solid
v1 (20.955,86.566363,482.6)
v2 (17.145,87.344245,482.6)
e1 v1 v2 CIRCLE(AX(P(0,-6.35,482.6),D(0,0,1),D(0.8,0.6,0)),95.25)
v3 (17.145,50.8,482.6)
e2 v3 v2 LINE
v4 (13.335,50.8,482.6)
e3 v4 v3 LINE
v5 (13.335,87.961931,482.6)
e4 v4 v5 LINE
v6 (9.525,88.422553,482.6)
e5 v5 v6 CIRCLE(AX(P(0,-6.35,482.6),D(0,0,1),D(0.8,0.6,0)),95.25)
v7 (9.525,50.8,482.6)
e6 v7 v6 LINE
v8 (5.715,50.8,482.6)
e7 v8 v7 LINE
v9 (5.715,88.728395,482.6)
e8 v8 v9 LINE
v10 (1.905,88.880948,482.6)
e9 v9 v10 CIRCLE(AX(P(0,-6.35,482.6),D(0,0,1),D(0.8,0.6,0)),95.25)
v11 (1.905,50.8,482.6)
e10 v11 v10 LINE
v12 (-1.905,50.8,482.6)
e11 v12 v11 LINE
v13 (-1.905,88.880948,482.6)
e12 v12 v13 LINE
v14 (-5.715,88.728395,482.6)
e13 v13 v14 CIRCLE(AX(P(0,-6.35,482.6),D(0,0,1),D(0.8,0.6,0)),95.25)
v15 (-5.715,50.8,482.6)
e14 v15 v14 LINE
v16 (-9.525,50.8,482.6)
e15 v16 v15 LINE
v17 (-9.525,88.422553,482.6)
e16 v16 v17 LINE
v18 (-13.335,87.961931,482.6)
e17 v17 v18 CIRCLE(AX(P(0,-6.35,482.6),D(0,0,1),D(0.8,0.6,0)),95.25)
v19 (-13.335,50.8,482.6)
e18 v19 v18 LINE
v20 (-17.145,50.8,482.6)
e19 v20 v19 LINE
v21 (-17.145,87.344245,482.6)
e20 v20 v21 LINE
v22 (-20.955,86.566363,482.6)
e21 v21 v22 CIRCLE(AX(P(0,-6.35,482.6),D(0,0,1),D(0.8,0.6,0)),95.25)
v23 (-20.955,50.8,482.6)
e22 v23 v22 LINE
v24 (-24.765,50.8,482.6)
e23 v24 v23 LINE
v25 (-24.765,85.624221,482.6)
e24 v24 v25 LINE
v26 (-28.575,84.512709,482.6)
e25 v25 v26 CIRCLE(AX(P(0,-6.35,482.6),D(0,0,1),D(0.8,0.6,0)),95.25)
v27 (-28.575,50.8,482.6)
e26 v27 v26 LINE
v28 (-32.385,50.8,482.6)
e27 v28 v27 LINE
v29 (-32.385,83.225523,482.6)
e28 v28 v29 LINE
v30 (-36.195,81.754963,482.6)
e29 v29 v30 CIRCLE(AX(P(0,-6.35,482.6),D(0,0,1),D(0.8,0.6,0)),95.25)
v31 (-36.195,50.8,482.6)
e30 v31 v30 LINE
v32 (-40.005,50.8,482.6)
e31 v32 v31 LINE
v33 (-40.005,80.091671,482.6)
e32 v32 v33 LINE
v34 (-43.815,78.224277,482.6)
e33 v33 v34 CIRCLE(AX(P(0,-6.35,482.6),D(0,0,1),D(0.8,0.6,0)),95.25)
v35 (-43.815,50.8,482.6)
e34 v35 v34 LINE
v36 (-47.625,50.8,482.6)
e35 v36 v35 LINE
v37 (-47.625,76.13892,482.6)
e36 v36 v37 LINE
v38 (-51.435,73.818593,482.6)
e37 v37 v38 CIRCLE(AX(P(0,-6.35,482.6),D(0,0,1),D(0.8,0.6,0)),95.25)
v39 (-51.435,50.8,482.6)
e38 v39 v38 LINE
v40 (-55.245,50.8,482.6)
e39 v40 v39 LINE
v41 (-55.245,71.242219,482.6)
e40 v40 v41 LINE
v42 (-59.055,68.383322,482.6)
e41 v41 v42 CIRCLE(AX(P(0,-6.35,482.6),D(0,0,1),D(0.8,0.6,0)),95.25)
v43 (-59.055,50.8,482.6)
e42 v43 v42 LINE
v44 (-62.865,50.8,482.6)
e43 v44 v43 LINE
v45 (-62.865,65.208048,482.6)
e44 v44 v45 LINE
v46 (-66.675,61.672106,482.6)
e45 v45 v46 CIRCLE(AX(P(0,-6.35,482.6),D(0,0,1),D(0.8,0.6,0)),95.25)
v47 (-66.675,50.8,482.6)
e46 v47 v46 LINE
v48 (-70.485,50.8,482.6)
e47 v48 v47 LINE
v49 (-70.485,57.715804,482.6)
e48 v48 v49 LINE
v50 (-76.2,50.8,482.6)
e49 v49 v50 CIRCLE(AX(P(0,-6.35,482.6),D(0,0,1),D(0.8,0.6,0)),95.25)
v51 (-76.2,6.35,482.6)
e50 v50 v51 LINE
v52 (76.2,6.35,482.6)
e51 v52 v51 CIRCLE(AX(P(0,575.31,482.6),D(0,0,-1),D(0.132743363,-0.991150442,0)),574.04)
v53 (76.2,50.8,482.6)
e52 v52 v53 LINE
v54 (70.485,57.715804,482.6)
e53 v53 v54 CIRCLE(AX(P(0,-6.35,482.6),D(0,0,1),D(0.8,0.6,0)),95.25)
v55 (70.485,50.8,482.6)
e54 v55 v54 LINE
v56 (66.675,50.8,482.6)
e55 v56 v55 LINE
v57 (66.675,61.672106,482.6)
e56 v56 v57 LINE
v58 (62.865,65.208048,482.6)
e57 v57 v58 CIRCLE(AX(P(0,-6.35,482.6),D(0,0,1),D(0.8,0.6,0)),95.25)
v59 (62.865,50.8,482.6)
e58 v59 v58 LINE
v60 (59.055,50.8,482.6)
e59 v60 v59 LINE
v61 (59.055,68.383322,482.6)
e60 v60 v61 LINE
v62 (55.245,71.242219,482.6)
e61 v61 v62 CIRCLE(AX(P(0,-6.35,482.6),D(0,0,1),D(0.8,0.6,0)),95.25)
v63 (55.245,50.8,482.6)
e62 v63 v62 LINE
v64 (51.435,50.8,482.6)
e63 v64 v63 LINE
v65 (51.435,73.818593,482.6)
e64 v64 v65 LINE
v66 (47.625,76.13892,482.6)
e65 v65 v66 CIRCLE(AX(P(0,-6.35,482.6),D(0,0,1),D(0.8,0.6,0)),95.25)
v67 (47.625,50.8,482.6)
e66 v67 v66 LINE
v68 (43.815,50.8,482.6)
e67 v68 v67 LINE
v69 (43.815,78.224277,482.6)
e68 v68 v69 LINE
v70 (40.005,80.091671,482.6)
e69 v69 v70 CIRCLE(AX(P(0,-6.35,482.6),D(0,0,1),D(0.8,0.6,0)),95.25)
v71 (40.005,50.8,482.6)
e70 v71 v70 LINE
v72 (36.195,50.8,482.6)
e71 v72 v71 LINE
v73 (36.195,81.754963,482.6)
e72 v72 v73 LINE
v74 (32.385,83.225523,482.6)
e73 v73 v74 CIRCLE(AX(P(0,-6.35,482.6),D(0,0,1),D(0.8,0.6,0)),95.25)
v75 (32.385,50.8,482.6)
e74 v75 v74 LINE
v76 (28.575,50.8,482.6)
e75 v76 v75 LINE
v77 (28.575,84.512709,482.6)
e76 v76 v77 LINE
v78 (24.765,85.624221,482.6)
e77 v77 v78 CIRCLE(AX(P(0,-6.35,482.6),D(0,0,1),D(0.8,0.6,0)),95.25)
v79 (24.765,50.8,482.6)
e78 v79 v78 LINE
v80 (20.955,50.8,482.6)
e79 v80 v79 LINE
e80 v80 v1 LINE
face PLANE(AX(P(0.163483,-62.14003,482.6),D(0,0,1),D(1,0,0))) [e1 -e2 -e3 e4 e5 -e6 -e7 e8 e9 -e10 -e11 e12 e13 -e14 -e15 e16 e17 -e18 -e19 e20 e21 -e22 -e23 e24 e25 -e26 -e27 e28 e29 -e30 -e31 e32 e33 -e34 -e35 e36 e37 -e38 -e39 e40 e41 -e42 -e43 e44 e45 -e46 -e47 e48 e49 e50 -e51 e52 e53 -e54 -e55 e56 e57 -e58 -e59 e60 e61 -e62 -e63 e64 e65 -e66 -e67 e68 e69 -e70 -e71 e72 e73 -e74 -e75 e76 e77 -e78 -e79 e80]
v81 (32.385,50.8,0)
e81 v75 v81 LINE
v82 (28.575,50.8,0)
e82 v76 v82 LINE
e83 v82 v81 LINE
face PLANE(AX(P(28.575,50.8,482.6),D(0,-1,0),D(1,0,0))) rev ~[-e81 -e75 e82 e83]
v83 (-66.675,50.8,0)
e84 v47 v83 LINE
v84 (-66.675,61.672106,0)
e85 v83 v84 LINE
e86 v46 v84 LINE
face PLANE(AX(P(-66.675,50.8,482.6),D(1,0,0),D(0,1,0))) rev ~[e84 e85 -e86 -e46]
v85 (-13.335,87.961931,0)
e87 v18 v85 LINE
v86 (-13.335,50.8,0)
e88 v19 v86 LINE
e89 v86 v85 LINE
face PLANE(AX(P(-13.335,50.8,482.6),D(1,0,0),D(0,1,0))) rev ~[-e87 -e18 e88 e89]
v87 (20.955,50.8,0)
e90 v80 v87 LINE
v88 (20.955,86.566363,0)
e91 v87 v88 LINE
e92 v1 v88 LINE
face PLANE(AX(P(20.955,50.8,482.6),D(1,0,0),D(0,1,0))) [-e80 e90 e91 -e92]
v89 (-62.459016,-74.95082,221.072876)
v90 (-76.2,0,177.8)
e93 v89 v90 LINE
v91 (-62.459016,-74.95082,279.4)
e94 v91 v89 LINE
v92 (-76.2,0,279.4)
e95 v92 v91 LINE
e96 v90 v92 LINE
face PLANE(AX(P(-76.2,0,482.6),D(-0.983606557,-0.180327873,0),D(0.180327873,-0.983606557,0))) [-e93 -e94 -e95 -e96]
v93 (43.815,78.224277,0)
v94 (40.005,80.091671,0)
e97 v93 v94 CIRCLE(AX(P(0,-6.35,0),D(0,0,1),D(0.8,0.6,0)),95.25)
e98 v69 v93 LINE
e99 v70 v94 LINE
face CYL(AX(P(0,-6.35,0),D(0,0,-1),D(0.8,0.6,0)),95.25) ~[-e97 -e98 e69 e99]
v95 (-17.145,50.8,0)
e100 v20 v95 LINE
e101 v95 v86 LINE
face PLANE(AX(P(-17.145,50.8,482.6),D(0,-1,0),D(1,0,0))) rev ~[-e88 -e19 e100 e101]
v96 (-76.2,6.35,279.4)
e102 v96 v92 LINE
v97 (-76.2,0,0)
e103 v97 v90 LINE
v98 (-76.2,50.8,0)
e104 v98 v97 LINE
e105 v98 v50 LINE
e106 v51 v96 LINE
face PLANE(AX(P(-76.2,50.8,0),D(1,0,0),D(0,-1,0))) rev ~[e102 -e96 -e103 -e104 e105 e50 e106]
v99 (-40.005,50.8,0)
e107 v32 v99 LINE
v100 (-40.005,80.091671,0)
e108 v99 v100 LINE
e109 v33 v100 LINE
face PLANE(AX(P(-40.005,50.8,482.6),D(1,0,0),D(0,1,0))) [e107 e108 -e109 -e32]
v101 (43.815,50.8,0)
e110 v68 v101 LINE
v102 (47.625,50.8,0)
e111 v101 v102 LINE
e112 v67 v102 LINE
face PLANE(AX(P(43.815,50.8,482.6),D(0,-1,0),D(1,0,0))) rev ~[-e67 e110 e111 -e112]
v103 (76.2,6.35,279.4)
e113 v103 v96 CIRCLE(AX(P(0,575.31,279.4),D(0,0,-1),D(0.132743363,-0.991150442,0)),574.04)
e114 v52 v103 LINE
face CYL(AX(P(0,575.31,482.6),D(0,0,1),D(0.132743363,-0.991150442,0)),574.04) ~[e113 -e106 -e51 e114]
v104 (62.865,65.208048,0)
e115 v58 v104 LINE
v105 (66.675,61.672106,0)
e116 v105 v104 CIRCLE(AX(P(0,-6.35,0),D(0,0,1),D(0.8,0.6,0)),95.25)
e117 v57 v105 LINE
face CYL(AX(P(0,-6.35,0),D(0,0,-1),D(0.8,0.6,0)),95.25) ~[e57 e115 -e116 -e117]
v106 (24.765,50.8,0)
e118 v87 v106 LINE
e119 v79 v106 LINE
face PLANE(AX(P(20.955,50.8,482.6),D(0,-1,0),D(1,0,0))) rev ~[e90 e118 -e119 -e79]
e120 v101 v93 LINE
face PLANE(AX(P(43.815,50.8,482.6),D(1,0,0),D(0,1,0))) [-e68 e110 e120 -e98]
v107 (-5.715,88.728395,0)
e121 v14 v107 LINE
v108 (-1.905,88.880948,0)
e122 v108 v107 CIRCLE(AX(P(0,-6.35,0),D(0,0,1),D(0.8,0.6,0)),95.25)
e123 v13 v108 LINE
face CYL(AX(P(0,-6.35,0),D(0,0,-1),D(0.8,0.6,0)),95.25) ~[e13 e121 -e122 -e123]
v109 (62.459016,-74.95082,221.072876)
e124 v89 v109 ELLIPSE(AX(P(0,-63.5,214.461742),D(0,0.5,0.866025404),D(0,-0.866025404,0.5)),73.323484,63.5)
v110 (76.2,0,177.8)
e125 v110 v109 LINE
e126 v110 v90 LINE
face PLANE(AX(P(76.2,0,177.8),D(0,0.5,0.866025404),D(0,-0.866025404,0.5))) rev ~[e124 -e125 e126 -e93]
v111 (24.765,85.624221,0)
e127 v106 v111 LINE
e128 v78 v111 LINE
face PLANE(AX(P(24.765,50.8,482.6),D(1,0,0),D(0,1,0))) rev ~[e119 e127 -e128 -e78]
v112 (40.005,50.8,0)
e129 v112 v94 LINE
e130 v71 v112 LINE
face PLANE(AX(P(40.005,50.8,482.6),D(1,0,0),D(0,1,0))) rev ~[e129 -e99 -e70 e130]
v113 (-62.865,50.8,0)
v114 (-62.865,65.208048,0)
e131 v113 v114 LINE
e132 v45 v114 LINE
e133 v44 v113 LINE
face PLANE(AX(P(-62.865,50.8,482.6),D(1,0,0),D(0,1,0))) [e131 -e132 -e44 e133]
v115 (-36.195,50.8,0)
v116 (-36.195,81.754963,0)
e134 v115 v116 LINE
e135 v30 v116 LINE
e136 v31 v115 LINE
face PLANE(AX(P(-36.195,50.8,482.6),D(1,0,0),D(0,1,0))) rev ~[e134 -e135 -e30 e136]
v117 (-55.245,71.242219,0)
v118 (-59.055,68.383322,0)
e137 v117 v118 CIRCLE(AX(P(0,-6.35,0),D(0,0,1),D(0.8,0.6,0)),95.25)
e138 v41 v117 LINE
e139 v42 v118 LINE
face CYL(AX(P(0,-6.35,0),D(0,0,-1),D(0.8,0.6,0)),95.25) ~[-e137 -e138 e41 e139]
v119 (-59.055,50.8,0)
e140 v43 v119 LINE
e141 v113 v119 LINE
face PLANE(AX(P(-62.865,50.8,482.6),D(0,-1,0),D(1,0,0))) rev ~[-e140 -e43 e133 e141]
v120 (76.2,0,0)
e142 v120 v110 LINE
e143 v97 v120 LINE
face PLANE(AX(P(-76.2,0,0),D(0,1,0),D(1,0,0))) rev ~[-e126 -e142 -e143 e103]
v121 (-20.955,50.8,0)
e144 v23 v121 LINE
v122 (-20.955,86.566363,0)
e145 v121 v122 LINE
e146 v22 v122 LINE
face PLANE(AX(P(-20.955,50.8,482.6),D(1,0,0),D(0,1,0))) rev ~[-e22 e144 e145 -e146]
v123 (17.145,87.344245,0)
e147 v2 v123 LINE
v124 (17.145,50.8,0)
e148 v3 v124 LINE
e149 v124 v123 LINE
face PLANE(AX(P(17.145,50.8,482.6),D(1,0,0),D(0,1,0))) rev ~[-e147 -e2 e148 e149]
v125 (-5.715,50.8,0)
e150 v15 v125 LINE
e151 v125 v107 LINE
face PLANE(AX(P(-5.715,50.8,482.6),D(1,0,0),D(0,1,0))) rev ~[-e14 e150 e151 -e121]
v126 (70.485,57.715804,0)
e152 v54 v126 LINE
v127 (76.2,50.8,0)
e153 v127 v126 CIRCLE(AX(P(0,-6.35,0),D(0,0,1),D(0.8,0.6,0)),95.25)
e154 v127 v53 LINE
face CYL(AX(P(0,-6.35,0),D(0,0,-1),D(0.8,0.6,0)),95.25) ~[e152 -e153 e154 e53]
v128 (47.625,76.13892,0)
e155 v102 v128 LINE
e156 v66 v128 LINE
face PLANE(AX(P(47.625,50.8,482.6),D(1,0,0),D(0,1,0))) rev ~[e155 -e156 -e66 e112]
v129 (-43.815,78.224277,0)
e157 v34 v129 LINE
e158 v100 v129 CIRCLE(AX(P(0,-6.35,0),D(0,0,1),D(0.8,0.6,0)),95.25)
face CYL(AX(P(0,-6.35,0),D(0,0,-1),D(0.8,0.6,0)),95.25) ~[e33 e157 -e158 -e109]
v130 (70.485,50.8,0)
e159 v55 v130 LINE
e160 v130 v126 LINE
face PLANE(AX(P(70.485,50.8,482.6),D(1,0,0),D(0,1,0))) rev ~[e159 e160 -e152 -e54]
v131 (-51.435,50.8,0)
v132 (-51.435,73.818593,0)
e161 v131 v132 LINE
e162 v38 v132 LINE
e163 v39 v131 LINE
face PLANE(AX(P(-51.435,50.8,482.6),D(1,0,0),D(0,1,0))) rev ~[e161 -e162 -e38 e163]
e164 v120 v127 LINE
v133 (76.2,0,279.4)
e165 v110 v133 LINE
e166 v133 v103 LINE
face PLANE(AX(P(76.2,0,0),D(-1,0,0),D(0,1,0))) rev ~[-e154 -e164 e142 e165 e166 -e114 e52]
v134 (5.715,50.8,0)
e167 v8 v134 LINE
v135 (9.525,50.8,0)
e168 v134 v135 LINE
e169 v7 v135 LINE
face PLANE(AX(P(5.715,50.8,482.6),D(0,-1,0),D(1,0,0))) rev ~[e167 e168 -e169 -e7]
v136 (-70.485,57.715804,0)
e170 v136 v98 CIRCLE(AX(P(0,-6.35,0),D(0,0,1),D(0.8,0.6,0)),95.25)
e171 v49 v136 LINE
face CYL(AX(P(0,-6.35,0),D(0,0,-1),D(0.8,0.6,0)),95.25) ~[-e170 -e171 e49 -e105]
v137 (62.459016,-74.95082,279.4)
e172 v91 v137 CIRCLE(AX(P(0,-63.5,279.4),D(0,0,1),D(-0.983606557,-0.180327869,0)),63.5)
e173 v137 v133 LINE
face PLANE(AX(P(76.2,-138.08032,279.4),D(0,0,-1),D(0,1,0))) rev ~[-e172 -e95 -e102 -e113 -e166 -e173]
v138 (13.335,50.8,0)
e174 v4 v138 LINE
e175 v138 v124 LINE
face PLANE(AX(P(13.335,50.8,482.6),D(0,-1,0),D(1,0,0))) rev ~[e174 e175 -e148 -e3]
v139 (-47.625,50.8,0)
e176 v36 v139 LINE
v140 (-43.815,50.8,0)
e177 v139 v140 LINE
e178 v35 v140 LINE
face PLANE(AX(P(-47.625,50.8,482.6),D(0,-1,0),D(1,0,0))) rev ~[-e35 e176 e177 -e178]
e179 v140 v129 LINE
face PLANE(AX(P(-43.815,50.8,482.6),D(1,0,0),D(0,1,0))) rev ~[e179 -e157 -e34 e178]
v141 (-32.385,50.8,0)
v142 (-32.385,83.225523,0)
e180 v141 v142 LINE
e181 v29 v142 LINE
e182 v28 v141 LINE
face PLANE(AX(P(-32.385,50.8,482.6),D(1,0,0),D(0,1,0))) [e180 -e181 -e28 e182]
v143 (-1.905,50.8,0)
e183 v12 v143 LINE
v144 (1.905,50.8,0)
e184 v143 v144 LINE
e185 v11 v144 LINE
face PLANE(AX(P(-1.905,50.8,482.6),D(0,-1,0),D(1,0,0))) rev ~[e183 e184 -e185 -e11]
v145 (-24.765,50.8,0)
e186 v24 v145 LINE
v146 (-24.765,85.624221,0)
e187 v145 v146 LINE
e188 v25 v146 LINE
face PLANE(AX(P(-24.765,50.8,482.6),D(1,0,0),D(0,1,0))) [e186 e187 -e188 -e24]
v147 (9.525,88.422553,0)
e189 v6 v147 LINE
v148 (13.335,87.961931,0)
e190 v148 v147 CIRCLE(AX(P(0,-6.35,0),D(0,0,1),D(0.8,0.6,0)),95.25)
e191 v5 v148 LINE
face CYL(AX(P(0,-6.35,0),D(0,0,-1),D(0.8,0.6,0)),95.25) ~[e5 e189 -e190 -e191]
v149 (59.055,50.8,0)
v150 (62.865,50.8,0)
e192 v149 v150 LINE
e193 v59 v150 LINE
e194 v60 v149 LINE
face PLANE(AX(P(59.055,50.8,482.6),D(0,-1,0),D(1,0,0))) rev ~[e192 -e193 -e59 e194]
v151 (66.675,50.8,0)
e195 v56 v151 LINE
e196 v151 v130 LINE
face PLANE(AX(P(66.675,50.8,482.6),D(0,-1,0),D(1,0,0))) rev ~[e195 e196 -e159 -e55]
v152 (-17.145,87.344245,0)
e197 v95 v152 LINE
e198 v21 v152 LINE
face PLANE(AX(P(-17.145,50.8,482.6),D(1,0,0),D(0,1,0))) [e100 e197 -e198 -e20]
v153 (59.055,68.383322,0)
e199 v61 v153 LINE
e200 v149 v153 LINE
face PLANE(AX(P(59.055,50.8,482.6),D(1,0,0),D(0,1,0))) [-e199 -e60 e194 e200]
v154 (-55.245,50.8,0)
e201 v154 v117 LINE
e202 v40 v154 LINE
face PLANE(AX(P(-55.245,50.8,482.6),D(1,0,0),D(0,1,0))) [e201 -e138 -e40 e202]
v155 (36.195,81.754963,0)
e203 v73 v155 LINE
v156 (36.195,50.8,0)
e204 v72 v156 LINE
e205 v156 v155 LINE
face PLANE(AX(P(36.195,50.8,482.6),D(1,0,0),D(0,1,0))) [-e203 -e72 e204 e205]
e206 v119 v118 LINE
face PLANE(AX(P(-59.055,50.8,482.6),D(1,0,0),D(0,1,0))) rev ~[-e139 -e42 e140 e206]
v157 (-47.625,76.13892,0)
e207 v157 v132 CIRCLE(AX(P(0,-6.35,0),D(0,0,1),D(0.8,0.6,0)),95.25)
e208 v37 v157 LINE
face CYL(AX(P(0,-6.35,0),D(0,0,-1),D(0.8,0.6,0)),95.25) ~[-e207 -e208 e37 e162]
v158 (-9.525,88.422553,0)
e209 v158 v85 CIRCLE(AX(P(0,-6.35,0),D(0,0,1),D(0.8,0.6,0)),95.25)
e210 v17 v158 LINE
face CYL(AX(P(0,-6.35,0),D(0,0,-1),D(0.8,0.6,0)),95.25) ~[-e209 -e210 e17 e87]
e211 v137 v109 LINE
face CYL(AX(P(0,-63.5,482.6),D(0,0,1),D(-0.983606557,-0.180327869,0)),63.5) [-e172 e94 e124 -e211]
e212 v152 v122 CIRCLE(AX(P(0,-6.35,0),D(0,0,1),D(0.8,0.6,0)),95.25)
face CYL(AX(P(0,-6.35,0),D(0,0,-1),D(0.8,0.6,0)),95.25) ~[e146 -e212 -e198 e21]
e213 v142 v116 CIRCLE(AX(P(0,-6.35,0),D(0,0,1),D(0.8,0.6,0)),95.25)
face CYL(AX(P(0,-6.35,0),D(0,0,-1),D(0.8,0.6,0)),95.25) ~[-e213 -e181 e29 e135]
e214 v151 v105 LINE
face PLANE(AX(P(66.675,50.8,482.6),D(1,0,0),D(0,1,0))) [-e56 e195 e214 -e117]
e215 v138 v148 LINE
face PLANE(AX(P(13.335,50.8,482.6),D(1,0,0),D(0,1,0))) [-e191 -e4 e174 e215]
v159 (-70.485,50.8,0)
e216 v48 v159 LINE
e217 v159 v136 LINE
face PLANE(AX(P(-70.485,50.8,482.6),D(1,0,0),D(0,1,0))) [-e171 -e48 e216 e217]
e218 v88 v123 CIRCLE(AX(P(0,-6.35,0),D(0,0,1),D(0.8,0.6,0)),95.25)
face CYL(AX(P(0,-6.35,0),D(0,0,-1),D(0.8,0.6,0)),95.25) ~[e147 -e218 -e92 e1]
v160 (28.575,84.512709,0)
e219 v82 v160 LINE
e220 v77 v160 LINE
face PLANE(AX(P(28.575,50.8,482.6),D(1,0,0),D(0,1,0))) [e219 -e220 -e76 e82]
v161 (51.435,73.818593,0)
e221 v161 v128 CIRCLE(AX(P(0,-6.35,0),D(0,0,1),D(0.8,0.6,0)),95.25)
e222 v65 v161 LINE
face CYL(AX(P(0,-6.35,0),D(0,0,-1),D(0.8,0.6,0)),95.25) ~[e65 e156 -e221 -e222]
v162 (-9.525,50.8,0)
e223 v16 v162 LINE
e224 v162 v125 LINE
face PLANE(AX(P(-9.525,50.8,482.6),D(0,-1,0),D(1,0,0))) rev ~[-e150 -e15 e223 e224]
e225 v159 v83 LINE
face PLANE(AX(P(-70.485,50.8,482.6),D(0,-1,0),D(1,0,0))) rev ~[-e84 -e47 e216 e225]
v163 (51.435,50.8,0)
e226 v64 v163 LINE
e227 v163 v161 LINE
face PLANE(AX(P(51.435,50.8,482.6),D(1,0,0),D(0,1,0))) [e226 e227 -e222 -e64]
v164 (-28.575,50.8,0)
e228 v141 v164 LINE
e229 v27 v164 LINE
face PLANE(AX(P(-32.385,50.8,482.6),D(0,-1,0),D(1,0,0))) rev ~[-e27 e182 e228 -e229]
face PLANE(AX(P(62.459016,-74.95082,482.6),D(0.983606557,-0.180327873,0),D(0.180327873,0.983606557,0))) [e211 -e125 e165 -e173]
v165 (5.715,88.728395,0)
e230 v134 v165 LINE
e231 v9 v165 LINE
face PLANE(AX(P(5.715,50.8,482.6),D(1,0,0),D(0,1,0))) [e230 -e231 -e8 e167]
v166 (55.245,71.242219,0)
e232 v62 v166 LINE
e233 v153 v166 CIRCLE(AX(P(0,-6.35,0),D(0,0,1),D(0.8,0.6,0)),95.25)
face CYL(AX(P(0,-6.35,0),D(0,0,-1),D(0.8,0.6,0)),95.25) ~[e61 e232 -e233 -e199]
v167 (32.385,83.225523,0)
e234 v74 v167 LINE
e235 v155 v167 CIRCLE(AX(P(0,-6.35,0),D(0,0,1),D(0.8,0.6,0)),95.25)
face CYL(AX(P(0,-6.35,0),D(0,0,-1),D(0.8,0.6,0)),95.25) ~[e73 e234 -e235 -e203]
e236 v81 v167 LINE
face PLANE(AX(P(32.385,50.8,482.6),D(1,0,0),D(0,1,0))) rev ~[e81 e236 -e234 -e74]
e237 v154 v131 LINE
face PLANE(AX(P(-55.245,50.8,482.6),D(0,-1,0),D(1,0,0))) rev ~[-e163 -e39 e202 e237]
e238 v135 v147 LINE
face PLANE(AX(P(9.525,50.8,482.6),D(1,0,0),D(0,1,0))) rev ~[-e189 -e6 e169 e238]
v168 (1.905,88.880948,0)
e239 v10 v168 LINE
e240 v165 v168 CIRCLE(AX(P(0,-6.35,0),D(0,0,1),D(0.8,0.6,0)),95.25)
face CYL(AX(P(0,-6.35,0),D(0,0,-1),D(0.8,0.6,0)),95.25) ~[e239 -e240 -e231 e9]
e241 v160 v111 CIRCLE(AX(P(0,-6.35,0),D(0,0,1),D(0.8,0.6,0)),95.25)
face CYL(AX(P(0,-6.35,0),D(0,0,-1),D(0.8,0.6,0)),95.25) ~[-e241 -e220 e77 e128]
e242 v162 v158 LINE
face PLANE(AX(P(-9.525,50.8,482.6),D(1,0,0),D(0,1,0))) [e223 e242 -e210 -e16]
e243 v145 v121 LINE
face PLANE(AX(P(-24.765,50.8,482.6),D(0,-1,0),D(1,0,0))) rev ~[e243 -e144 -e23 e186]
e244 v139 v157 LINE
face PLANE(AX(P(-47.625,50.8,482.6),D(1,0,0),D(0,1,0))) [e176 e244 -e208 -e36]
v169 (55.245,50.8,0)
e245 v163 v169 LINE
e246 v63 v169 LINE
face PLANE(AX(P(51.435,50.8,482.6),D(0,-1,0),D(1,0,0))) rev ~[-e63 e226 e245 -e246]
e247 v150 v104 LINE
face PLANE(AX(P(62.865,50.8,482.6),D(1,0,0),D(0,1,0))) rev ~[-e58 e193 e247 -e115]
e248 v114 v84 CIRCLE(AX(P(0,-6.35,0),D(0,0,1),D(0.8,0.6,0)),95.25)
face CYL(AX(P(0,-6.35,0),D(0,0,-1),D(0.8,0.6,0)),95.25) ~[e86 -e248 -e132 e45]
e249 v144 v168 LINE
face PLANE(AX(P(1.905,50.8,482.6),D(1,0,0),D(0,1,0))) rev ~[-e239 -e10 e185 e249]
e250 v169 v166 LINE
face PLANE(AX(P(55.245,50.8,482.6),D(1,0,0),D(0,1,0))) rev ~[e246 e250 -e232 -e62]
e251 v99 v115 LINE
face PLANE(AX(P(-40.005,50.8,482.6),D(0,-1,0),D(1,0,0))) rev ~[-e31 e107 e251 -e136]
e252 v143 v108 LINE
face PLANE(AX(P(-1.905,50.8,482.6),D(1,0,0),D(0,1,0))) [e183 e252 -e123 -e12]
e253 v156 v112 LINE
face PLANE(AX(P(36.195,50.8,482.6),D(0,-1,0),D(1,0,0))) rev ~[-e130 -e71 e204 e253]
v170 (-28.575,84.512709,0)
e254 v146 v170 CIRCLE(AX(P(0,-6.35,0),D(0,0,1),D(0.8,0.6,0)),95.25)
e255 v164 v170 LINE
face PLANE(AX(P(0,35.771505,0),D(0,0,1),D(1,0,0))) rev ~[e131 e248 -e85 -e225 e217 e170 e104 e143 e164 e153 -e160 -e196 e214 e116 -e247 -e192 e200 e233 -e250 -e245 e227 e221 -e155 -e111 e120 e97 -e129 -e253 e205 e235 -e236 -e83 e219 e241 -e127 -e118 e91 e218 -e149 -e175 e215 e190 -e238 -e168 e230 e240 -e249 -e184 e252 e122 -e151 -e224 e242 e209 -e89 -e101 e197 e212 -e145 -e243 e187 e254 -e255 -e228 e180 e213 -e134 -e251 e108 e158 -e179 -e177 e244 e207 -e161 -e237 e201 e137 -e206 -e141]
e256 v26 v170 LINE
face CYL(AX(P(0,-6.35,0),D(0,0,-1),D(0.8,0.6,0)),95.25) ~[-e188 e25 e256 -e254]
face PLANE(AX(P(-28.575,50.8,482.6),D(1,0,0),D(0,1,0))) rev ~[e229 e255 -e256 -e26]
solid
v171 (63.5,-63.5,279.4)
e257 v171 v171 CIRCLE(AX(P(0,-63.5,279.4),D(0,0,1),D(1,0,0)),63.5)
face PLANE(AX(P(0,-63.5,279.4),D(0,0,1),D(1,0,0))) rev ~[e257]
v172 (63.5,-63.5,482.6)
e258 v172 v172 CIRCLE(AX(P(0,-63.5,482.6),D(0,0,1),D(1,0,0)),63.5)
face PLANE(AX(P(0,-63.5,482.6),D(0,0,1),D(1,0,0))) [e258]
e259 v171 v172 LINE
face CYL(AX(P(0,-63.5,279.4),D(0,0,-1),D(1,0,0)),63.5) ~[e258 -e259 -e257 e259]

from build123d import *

# Parameters (mm, degrees)
F1_DEPTH  = 482.6
F2_W      = 3.81
F2_H      = 38.1
F3_DEPTH  = 482.6
F5_DEPTH  = 304.8
F6_W      = 138.08032
F6_H      = 203.2
F7_DEPTH  = 254
F8_R      = 63.5
F9_DEPTH  = 203.2
F11_DEPTH = 203.2


with BuildPart() as f1:
    # F0 (on Top) → F1 (new body)
    with BuildSketch(Plane.XY):
        with BuildLine():
            ThreePointArc((76.2, 50.8), (0, 88.9), (-76.2, 50.8))
            Line((-76.2, 50.8), (-76.2, 0))
            Line((-76.2, 0), (76.2, 0))
            Line((76.2, 0), (76.2, 50.8))
        make_face()
    extrude(amount=F1_DEPTH)

    # F2 (on face) → F3 (cut)
    with BuildSketch(Plane.XY.offset(482.6)):
        with Locations((0, 69.85)):
            Rectangle(F2_W, F2_H)
        with Locations((7.62, 69.85)):
            Rectangle(F2_W, F2_H)
        with Locations((15.24, 69.85)):
            Rectangle(F2_W, F2_H)
        with Locations((22.86, 69.85)):
            Rectangle(F2_W, F2_H)
        with Locations((30.48, 69.85)):
            Rectangle(F2_W, F2_H)
        with Locations((38.1, 69.85)):
            Rectangle(F2_W, F2_H)
        with Locations((45.72, 69.85)):
            Rectangle(F2_W, F2_H)
        with Locations((53.34, 69.85)):
            Rectangle(F2_W, F2_H)
        with Locations((60.96, 69.85)):
            Rectangle(F2_W, F2_H)
        with Locations((68.58, 69.85)):
            Rectangle(F2_W, F2_H)
        with Locations((-7.62, 69.85)):
            Rectangle(F2_W, F2_H)
        with Locations((-15.24, 69.85)):
            Rectangle(F2_W, F2_H)
        with Locations((-22.86, 69.85)):
            Rectangle(F2_W, F2_H)
        with Locations((-30.48, 69.85)):
            Rectangle(F2_W, F2_H)
        with Locations((-38.1, 69.85)):
            Rectangle(F2_W, F2_H)
        with Locations((-45.72, 69.85)):
            Rectangle(F2_W, F2_H)
        with Locations((-53.34, 69.85)):
            Rectangle(F2_W, F2_H)
        with Locations((-60.96, 69.85)):
            Rectangle(F2_W, F2_H)
        with Locations((-68.58, 69.85)):
            Rectangle(F2_W, F2_H)
    extrude(amount=-F3_DEPTH, mode=Mode.SUBTRACT)

    # F4 (on face) → F5 (join)
    with BuildSketch(Plane.XY.offset(482.6)):
        with BuildLine():
            ThreePointArc((0, 0), (-48.782051, -22.848291), (-62.459016, -74.95082))
            ThreePointArc((-62.459016, -74.95082), (0, -127), (62.459016, -74.95082))
            ThreePointArc((62.459016, -74.95082), (63.239219, -69.24902), (63.5, -63.5))
            ThreePointArc((63.5, -63.5), (44.901281, -18.598719), (0, 0))
        make_face()
        with BuildLine():
            Line((-76.2, 0), (-62.459016, -74.95082))
            ThreePointArc((-62.459016, -74.95082), (-48.782051, -22.848291), (0, 0))
            Line((0, 0), (-76.2, 0))
        make_face()
        with BuildLine():
            ThreePointArc((63.5, -63.5), (63.239219, -69.24902), (62.459016, -74.95082))
            Line((62.459016, -74.95082), (76.2, 0))
            Line((76.2, 0), (0, 0))
            ThreePointArc((0, 0), (44.901281, -18.598719), (63.5, -63.5))
        make_face()
    extrude(amount=-F5_DEPTH)

    # F6 (on face) → F7 (cut)
    with BuildSketch(Plane.YZ.offset(76.2)):
        Polygon((-138.08032, 177.8), (0, 177.8), (-138.08032, 257.52071), align=None)
        with Locations((-69.04016, 381)):
            Rectangle(F6_W, F6_H)
    extrude(amount=-F7_DEPTH, mode=Mode.SUBTRACT)

    # F10 (on face) → F11 (cut, through all)
    with BuildSketch(Plane.XY.offset(482.6)):
        with BuildLine():
            ThreePointArc((76.2, 6.35), (0, 1.27), (-76.2, 6.35))
            Line((-76.2, 6.35), (-76.2, 0))
            Line((-76.2, 0), (76.2, 0))
            Line((76.2, 0), (76.2, 6.35))
        make_face()
    extrude(amount=-F11_DEPTH, mode=Mode.SUBTRACT)


with BuildPart() as f9:
    # F8 (on face) → F9 (new body, through all)
    with BuildSketch(Plane.XY.offset(279.4)):
        with Locations((0, -63.5)):
            Circle(F8_R)
    extrude(amount=F9_DEPTH)


solid = Compound([f1.part, f9.part])
